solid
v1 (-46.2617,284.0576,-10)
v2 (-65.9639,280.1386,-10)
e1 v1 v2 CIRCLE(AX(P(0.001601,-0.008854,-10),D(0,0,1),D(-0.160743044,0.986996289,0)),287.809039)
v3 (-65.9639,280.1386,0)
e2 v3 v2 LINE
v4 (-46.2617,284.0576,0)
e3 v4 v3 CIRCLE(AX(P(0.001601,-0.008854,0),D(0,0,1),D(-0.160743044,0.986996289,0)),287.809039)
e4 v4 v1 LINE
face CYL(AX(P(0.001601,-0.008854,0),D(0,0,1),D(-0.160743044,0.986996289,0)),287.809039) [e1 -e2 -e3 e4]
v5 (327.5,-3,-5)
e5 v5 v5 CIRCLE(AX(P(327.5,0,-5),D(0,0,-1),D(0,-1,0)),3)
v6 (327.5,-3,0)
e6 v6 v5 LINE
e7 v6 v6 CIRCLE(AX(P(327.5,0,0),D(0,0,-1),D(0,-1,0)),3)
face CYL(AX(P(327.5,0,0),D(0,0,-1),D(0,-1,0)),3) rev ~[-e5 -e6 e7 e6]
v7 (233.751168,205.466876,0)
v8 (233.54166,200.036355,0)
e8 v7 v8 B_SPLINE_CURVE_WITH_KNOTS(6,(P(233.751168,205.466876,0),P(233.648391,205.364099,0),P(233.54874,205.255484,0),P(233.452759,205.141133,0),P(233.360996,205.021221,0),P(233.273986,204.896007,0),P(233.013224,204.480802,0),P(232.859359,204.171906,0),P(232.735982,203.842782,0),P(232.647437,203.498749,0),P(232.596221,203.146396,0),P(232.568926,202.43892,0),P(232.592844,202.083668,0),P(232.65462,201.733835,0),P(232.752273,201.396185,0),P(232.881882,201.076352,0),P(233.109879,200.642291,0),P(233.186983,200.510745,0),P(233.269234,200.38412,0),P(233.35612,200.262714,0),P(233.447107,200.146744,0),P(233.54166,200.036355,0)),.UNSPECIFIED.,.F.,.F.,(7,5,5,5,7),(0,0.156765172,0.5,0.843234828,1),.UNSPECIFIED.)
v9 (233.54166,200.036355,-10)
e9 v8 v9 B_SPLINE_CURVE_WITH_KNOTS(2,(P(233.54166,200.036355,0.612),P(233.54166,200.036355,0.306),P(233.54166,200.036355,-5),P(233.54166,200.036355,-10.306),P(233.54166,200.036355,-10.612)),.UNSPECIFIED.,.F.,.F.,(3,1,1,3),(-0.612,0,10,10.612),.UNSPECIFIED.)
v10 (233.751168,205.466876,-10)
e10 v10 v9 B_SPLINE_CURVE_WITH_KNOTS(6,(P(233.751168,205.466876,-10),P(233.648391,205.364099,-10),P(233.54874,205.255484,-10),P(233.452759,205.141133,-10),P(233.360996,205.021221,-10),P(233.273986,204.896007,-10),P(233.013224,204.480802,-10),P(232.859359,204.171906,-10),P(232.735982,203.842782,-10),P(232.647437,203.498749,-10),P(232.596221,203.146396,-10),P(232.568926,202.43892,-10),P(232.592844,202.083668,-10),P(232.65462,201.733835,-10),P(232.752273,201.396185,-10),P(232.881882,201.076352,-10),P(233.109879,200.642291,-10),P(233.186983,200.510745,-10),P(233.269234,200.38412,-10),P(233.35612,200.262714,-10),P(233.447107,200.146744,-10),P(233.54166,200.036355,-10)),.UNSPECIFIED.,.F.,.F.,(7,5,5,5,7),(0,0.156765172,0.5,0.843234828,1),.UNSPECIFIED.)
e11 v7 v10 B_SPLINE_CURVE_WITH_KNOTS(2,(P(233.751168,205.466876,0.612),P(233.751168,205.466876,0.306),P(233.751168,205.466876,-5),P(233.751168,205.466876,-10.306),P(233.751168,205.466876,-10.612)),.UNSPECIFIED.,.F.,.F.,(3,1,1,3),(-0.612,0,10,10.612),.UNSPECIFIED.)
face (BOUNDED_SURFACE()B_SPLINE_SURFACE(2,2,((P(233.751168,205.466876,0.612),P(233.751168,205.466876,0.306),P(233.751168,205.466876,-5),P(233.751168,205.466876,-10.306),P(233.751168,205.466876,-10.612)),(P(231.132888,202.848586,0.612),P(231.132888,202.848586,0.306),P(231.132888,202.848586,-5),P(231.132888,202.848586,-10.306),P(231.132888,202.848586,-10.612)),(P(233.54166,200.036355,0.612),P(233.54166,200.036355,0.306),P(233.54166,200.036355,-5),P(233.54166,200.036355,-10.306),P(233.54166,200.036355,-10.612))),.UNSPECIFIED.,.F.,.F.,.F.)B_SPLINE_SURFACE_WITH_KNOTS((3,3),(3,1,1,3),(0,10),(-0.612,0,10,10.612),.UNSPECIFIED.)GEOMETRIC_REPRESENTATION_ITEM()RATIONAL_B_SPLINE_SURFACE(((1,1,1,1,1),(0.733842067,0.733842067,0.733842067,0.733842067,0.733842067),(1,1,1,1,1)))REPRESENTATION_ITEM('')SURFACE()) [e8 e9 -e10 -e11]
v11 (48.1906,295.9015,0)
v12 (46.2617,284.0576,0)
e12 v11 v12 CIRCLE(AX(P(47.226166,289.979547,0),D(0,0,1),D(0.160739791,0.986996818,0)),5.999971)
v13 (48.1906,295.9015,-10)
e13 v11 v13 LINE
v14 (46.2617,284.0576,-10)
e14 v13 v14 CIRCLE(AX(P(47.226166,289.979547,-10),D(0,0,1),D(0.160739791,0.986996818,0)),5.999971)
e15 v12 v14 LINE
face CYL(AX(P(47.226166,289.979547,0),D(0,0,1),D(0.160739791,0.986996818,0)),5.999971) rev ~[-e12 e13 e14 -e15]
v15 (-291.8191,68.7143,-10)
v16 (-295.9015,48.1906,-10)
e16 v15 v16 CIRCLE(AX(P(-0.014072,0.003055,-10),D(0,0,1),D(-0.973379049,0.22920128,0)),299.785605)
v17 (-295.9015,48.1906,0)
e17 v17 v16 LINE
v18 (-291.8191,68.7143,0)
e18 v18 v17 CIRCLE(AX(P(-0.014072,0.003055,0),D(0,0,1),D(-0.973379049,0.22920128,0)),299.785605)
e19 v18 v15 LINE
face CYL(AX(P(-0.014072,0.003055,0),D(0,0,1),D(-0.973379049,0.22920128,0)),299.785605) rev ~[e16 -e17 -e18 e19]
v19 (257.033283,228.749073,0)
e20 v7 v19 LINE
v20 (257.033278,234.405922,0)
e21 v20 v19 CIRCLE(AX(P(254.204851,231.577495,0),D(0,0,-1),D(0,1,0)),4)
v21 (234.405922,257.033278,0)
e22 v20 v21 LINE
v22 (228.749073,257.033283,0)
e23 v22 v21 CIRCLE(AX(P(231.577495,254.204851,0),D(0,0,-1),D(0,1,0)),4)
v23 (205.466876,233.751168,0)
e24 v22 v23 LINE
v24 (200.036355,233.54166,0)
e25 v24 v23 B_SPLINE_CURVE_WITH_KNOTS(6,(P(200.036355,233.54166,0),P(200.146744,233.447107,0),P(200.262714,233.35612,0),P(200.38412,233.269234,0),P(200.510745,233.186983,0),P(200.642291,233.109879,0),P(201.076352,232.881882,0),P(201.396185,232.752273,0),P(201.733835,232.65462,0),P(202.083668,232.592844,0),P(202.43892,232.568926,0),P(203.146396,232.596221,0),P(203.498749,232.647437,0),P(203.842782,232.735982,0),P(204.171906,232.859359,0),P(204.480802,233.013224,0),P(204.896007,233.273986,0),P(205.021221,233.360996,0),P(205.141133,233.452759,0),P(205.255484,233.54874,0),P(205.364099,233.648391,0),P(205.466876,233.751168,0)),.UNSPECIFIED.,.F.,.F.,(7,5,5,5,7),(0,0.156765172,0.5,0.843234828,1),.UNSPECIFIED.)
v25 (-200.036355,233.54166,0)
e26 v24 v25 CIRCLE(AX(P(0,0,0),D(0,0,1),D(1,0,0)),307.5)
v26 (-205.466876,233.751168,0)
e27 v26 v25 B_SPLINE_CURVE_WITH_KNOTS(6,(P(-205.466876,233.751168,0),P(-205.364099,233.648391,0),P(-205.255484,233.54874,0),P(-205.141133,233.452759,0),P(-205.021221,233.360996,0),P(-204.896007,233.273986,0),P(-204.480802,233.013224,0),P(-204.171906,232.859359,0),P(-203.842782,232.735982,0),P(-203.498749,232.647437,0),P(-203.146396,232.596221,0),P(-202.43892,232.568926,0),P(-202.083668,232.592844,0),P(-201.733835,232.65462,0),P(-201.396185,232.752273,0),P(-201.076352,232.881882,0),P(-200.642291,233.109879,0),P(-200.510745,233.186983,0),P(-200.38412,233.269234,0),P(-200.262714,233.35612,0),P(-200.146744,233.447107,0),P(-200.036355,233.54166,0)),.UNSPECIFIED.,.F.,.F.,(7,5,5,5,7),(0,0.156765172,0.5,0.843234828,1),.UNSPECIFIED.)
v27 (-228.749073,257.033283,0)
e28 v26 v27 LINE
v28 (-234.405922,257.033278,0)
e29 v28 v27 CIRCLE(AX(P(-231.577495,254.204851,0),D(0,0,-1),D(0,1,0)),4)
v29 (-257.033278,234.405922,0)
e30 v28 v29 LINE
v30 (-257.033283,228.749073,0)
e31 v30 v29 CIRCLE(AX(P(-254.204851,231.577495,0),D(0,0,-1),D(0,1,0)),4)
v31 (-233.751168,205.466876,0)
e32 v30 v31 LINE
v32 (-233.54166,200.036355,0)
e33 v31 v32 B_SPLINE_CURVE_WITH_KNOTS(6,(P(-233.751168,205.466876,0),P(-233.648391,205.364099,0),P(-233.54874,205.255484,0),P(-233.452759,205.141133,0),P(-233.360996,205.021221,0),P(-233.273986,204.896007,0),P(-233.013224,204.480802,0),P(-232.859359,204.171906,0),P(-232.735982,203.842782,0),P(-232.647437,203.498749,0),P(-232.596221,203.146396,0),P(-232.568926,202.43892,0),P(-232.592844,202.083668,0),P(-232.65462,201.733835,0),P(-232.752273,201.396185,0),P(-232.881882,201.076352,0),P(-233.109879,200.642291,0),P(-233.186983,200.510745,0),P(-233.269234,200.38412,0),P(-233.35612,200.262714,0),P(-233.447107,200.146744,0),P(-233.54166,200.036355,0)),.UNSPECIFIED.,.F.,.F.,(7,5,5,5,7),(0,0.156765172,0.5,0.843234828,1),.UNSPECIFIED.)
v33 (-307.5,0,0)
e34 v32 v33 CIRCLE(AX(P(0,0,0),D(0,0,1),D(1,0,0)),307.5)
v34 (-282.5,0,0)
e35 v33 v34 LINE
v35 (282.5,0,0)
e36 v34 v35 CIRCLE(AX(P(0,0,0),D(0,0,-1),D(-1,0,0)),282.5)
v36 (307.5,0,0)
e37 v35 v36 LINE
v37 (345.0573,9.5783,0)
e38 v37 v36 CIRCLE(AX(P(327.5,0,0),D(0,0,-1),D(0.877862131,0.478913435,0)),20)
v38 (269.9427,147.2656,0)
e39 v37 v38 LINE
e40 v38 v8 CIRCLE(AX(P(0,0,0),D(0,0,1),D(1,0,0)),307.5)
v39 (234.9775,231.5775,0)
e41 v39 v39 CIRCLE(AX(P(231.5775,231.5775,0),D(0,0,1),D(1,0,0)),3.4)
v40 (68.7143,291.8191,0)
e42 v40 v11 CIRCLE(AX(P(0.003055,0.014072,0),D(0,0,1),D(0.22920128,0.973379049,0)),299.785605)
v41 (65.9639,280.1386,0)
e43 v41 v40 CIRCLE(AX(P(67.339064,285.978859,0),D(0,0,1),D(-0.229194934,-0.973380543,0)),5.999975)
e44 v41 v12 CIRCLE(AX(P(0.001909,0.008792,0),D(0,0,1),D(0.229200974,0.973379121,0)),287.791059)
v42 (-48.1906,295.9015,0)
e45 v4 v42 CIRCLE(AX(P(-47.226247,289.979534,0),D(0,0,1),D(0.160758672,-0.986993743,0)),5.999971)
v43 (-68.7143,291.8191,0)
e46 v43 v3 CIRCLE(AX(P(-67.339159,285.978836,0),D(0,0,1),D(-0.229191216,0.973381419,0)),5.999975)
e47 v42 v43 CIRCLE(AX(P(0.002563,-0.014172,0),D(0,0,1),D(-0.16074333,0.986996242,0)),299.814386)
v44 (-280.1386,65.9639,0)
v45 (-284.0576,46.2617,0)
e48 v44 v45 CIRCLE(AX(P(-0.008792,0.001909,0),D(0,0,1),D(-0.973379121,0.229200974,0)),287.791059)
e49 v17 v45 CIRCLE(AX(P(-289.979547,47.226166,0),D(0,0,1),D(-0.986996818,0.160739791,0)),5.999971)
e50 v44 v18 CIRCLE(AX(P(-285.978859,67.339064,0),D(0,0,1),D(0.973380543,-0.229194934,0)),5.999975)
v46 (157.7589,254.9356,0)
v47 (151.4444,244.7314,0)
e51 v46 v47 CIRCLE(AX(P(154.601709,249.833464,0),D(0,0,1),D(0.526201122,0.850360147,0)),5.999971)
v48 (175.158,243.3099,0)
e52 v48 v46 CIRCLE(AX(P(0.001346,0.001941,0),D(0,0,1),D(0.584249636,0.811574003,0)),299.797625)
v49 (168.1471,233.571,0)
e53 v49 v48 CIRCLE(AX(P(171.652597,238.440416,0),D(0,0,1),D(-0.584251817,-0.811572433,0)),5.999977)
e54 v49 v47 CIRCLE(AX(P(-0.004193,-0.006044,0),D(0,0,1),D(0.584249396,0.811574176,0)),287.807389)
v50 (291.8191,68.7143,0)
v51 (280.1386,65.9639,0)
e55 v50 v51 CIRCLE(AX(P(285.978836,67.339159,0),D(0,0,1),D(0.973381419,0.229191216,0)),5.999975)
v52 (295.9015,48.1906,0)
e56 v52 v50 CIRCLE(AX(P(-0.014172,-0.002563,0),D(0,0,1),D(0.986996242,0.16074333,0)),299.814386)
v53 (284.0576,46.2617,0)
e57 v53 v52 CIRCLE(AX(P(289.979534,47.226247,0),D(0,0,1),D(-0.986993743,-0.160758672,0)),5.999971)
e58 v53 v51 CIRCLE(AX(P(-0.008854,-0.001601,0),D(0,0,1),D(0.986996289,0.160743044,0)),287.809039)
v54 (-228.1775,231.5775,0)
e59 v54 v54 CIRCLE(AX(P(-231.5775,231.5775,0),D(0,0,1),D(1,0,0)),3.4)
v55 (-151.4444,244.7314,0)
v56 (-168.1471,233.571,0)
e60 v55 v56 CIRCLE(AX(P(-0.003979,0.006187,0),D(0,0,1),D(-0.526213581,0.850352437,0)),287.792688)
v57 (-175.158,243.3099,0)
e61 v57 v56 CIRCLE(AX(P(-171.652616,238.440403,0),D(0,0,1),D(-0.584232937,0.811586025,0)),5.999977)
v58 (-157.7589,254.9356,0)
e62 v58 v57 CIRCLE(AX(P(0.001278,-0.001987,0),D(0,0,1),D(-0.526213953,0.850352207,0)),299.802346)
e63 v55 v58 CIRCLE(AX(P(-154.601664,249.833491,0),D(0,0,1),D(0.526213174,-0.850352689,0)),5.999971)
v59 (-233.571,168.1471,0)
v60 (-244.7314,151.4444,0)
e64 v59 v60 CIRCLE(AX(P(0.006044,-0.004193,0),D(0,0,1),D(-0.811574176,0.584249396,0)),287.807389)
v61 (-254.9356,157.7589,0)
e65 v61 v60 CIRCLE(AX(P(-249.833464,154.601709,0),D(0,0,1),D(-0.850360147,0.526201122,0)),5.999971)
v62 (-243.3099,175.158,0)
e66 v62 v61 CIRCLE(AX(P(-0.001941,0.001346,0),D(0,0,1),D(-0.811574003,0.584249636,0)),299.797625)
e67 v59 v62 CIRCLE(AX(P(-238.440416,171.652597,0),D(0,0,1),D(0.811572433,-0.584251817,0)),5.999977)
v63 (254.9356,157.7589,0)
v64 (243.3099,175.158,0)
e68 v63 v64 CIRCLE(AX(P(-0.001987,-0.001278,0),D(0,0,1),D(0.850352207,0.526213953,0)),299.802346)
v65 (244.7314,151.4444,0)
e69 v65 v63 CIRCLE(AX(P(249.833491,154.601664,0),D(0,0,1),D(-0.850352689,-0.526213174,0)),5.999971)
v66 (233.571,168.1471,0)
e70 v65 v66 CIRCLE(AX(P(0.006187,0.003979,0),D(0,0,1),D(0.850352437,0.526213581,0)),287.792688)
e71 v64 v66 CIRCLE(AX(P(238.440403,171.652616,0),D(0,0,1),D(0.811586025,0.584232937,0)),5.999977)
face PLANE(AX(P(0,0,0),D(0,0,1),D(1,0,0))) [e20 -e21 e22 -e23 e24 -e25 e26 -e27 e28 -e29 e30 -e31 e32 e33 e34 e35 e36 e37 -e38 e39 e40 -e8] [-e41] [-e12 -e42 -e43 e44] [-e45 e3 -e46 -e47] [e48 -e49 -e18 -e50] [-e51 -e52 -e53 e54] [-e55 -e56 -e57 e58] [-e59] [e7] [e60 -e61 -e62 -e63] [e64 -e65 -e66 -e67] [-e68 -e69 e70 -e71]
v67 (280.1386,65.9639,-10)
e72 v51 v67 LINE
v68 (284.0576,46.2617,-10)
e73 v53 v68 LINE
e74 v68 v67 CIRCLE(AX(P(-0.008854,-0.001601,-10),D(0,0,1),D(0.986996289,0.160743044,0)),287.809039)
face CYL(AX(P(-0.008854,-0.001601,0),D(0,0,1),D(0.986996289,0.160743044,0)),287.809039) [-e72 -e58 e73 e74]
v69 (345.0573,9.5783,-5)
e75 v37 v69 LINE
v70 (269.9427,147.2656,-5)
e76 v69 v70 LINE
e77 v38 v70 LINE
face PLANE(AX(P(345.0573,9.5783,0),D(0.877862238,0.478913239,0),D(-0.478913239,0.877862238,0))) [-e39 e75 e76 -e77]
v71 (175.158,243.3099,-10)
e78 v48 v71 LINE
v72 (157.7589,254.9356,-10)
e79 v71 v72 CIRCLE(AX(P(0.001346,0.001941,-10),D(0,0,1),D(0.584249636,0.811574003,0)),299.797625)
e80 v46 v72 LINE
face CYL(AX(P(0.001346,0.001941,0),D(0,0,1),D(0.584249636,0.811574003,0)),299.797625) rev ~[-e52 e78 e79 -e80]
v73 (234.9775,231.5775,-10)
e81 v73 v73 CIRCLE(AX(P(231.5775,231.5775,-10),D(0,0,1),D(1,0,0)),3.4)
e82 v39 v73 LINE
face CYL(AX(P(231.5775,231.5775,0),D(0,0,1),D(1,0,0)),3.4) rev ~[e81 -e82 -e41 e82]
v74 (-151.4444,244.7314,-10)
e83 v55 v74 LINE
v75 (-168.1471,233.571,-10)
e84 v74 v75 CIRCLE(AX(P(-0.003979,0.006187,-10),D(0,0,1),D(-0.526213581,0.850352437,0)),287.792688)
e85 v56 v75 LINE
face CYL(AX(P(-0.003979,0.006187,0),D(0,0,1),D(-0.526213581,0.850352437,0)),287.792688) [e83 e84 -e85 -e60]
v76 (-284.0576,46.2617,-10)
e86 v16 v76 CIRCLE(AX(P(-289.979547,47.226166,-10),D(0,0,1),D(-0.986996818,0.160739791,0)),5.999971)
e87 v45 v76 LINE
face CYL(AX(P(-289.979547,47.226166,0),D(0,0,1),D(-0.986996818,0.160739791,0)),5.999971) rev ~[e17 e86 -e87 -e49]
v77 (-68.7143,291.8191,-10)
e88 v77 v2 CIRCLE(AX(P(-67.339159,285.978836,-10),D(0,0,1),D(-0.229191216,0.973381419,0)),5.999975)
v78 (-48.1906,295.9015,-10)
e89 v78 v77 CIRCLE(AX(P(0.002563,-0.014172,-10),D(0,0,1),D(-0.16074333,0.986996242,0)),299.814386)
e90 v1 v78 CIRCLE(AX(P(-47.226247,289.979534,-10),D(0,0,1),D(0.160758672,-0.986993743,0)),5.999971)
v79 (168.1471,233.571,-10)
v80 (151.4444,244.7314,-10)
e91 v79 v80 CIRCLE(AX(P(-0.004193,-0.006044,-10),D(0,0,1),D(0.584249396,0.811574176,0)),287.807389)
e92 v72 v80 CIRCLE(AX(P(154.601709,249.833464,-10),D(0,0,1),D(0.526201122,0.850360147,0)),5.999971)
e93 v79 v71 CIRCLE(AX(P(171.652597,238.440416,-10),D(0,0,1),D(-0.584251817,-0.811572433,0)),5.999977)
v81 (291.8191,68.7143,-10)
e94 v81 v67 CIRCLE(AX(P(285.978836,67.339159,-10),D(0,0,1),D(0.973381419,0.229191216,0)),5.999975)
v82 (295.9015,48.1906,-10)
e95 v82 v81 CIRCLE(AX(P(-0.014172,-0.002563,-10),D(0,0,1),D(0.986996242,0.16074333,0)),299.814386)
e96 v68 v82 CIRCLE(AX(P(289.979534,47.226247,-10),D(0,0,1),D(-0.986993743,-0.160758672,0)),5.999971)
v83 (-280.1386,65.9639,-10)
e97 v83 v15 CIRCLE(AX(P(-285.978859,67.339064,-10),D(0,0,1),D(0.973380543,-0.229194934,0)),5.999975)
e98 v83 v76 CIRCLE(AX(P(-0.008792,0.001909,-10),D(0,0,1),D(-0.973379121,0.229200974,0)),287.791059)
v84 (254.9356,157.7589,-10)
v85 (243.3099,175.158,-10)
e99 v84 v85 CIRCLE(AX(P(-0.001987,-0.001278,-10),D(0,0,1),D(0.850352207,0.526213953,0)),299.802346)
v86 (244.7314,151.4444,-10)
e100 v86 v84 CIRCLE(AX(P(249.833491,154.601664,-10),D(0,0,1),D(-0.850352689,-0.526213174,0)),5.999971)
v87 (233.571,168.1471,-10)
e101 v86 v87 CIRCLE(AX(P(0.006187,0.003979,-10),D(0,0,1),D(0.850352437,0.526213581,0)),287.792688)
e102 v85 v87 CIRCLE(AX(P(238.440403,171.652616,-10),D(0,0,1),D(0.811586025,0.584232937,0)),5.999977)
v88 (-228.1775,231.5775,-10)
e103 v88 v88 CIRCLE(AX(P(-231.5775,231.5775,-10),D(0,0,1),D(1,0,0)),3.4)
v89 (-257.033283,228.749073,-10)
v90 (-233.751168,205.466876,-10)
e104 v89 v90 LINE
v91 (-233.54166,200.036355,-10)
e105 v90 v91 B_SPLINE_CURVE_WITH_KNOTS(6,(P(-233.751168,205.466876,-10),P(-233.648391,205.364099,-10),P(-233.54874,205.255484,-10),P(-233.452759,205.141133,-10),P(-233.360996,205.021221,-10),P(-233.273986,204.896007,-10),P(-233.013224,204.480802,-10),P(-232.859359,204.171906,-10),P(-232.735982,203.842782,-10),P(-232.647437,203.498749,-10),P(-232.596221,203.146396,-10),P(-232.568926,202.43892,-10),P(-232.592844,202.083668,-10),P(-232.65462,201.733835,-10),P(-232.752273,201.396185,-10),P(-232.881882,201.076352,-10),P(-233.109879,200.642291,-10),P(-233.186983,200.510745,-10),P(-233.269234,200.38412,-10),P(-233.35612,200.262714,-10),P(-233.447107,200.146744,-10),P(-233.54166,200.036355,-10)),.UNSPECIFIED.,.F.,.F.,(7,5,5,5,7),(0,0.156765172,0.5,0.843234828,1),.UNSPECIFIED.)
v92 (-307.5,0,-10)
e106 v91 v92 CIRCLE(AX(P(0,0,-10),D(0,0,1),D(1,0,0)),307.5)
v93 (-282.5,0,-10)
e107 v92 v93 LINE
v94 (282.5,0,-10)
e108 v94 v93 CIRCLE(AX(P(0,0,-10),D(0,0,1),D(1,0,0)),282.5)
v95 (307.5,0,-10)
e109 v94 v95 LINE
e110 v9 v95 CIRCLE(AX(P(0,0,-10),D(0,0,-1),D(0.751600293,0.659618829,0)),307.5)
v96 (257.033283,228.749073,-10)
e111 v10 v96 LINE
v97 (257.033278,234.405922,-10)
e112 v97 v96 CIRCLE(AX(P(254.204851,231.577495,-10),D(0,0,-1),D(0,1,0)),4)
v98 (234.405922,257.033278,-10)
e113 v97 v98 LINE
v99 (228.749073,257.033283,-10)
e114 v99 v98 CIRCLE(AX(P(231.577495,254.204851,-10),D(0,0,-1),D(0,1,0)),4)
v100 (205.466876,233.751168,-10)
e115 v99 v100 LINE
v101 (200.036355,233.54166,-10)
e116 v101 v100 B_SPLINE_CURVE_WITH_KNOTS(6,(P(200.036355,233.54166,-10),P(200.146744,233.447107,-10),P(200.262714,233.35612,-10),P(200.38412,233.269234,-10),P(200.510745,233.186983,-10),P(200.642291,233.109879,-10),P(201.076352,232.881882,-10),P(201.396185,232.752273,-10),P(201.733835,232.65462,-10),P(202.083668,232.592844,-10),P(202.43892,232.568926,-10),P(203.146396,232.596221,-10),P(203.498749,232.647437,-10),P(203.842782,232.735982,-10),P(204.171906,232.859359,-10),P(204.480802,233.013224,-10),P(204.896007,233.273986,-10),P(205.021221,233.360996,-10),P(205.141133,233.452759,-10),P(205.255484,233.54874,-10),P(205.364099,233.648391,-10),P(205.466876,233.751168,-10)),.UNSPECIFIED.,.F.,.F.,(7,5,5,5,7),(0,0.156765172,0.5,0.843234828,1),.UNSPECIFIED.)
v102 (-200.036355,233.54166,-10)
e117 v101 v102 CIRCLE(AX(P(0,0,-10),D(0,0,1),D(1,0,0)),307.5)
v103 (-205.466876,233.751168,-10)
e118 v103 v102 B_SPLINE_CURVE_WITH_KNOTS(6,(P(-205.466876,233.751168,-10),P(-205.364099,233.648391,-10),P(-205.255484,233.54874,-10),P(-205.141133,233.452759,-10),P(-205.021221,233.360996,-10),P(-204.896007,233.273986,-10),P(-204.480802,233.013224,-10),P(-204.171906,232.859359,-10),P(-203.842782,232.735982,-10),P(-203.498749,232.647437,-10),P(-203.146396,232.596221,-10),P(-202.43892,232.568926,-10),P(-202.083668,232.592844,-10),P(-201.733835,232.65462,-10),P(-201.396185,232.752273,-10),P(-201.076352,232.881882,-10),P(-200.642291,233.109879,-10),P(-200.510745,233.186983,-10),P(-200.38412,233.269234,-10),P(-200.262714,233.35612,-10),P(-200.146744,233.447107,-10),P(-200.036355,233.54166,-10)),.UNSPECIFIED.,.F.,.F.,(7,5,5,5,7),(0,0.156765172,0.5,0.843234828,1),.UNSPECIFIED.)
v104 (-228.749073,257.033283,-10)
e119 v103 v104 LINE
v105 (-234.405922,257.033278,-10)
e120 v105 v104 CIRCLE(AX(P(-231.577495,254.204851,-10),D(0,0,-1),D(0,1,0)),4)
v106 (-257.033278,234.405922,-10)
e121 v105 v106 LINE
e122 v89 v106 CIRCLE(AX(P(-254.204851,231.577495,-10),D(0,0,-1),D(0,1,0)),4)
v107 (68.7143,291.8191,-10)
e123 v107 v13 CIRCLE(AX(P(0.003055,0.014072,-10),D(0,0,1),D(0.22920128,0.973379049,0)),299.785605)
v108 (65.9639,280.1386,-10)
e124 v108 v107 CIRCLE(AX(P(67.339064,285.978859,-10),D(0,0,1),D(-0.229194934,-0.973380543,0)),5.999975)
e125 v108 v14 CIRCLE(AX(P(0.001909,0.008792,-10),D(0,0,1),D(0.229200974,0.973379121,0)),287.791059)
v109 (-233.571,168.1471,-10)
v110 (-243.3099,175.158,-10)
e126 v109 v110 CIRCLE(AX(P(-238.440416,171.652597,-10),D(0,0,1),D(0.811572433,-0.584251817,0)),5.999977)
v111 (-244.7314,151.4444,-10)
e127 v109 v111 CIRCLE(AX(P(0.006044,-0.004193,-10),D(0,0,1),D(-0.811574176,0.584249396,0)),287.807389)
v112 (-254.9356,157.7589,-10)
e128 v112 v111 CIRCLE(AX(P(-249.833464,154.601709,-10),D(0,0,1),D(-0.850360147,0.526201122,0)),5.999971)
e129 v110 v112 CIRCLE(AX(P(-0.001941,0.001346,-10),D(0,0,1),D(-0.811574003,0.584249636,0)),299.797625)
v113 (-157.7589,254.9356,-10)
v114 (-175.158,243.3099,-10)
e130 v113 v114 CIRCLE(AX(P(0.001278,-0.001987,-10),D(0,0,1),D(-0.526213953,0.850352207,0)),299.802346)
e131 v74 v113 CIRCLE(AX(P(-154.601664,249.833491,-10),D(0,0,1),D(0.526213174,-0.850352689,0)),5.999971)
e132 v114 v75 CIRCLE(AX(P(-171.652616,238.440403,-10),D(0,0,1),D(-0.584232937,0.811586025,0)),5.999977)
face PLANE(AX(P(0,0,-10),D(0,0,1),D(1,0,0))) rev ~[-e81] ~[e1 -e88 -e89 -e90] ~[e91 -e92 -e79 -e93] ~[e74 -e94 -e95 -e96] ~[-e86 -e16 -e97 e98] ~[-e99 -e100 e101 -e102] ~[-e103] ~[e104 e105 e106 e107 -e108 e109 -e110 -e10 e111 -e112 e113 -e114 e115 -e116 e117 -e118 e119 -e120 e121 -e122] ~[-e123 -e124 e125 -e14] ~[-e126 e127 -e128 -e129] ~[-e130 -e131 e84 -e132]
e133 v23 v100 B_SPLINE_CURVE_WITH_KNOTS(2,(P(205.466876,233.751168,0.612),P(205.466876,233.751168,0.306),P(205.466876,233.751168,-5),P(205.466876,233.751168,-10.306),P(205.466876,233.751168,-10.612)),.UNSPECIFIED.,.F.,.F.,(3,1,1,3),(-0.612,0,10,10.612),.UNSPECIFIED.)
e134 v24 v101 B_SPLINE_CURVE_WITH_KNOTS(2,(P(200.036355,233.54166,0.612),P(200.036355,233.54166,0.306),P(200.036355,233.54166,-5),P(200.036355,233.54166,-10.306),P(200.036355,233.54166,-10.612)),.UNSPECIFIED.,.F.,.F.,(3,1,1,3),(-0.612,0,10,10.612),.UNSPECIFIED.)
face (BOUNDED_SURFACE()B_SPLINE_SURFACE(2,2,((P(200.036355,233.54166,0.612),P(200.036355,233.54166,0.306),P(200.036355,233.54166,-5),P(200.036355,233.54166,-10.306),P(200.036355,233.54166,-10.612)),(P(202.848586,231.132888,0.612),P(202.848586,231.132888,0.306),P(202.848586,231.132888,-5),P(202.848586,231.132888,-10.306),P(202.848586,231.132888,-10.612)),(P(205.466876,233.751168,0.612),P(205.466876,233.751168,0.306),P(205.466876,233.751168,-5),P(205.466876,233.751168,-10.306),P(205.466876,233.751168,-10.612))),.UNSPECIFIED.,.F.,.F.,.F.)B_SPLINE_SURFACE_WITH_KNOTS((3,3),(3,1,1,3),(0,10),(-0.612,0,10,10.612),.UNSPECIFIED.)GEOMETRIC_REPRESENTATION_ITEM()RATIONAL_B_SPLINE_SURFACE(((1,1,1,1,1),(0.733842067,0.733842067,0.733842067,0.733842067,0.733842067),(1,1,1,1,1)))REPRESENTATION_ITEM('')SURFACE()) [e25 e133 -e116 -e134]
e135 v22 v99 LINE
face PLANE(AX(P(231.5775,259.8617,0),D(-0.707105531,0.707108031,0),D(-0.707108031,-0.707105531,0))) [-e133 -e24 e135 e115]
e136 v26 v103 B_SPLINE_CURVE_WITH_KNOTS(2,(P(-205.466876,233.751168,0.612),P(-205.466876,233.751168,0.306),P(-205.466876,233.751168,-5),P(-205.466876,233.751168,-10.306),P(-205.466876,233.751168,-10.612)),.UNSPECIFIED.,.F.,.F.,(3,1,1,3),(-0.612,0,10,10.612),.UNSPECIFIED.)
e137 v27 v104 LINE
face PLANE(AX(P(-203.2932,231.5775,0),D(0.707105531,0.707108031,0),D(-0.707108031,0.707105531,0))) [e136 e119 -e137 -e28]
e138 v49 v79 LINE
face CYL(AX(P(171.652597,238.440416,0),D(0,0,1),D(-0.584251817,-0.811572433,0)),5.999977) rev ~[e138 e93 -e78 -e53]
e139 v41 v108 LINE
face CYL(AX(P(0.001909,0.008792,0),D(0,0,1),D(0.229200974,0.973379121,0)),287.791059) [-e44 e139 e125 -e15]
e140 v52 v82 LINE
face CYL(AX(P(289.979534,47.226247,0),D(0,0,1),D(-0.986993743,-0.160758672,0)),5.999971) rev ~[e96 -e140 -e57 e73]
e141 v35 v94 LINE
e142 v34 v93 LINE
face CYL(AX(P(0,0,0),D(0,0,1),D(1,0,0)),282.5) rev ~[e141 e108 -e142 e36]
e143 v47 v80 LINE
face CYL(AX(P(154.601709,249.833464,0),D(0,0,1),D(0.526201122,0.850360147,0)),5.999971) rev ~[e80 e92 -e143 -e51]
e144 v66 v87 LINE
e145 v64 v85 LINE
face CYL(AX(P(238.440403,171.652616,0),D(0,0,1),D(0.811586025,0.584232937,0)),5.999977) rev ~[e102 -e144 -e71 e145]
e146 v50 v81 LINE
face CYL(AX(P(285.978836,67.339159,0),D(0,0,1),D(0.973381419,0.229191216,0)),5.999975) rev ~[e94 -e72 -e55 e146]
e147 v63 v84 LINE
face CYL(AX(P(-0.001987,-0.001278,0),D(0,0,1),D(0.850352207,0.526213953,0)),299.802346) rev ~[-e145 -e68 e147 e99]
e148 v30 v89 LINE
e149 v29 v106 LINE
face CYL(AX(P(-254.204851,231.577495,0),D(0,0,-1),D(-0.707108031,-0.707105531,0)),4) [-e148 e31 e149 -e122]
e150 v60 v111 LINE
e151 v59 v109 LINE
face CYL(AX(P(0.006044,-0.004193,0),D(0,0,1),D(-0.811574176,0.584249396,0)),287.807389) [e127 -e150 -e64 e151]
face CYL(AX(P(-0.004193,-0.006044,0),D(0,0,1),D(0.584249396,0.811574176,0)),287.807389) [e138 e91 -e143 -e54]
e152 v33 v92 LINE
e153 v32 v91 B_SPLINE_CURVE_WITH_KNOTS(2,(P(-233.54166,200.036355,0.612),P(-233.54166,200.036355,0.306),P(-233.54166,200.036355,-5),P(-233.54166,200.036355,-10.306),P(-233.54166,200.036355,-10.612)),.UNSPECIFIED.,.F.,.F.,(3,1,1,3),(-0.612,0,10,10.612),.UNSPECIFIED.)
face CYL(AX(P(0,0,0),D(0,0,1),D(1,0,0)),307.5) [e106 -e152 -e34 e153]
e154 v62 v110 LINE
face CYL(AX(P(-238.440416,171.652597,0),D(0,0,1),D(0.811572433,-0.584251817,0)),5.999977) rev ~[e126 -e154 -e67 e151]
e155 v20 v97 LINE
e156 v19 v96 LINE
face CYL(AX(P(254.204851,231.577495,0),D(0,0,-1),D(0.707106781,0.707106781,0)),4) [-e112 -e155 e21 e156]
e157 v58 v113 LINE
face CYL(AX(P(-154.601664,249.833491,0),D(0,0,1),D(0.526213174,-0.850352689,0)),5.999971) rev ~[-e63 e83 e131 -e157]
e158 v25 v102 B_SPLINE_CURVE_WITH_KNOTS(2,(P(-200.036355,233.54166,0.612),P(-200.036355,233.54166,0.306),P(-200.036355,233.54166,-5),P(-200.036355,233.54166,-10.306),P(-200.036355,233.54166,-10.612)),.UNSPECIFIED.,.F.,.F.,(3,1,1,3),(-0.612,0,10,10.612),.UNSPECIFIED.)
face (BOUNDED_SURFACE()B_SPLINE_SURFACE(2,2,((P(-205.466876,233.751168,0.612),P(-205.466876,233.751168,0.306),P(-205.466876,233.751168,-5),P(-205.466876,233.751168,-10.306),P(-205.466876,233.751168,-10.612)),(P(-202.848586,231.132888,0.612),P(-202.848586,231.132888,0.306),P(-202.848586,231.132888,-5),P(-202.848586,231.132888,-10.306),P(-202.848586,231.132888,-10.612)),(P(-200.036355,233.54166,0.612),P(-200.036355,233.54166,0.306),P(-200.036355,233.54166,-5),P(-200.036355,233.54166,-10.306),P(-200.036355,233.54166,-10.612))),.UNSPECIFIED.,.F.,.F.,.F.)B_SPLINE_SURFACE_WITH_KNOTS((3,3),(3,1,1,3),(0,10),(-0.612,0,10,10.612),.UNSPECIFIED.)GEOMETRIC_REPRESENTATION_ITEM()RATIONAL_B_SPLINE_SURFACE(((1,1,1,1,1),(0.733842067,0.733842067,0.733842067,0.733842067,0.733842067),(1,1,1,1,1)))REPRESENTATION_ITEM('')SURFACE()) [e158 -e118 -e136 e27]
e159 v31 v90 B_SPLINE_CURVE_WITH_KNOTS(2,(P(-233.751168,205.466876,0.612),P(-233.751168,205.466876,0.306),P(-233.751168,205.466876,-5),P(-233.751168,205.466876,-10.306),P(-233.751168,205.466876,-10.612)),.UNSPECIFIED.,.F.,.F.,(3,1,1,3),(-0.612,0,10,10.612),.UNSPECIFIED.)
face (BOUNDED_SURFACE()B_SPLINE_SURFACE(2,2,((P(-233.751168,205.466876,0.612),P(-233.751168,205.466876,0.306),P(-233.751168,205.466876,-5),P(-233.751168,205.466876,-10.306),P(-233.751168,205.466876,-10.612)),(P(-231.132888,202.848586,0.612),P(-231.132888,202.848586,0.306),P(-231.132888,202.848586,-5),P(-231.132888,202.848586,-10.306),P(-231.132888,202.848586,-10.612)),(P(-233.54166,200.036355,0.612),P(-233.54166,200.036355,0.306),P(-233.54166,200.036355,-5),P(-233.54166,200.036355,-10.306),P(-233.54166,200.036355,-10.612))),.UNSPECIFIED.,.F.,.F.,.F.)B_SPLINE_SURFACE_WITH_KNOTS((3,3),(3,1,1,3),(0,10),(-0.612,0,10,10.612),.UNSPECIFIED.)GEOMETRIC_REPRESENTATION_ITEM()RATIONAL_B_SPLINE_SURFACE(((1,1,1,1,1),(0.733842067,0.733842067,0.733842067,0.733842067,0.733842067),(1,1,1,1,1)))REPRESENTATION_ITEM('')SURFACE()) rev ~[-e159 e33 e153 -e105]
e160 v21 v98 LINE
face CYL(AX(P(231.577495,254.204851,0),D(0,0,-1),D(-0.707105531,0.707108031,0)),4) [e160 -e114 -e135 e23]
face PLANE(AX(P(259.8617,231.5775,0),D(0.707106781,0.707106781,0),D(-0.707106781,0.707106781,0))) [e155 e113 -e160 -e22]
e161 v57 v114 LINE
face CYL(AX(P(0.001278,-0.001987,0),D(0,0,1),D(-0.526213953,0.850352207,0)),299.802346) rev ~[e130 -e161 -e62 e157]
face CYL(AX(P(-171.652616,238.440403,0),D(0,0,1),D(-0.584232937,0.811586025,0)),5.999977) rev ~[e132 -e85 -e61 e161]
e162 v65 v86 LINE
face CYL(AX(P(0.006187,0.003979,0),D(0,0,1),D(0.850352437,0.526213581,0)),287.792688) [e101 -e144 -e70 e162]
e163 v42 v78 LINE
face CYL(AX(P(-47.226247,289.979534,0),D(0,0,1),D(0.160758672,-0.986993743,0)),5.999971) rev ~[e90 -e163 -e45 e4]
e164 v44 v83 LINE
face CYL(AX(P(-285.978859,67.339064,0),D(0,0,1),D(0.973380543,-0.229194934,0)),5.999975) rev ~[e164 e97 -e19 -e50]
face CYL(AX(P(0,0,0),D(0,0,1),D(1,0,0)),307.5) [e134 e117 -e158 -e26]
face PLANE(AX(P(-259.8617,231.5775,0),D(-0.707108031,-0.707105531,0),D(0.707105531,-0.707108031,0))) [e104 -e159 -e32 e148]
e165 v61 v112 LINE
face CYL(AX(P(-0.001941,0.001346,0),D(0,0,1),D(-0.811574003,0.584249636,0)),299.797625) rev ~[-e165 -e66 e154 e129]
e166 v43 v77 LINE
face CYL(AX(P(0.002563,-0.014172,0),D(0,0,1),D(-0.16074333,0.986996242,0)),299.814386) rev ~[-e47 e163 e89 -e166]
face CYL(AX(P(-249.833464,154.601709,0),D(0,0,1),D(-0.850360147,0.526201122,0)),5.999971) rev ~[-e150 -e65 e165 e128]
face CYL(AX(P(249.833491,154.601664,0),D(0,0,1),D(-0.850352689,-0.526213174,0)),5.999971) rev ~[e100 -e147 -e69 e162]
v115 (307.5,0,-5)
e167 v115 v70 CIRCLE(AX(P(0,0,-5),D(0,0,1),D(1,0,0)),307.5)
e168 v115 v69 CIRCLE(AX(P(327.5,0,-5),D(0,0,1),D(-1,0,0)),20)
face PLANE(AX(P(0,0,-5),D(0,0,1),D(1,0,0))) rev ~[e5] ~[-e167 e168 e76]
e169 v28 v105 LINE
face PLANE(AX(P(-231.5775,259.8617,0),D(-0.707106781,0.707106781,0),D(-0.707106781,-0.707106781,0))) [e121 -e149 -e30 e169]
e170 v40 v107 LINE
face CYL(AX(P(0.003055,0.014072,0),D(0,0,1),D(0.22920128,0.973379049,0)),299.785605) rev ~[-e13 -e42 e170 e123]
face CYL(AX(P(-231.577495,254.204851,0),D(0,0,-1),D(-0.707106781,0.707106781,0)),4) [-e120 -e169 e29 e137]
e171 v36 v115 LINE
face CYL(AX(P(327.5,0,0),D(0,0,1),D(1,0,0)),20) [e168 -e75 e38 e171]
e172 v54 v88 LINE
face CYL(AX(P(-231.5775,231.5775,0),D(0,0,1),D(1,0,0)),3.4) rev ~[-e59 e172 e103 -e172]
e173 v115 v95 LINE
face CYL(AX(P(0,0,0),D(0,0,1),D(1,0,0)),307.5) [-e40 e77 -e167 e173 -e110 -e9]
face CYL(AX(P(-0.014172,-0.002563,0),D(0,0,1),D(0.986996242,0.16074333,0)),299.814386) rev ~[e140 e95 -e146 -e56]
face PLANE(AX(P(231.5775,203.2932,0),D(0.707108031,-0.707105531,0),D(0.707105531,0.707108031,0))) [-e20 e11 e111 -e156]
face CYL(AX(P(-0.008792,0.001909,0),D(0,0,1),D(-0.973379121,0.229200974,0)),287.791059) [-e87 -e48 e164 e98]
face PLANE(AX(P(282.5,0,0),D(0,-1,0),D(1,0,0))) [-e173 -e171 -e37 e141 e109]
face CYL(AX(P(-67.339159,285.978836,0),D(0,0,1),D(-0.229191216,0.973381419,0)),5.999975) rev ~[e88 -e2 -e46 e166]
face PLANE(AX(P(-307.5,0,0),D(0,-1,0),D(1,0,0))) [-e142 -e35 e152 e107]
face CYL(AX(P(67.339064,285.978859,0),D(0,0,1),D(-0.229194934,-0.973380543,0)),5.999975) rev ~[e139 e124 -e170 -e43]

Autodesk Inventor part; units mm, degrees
ref_plane "YZ Plane" through (0, 0, 0) normal (1, 0, 0) x (0, 1, 0)
ref_plane "XZ Plane" through (0, 0, 0) normal (0, 1, 0) x (-1, 0, 0)
ref_plane "XY Plane" through (0, 0, 0) normal (0, 0, 1) x (1, 0, 0)
sketch "Sketch7" plane through (0, 0, 0) normal (0, 0, 1) x (1, 0, 0)
  circle A0 centre (-231.5775, 231.5775) radius 3.4
  line L0 (-231.5775, 203.2932) -> (-203.2932, 231.5775)
  line L1 (-203.2932, 231.5775) -> (-231.5775, 259.8617)
  line L2 (-231.5775, 259.8617) -> (-259.8617, 231.5775)
  line L3 (-259.8617, 231.5775) -> (-231.5775, 203.2932)
  line L4 (-231.5775, 203.2932) -> (-231.5775, 259.8617) construction
  line L5 (-203.2932, 231.5775) -> (-259.8617, 231.5775) construction
  line L6 (-231.5775, 203.2932) -> (-191.5775, 203.2932) construction
  arc A1 (289.9795, 47.2262) -> (285.9788, 67.3391) centre (0, 0) ccw construction
  arc A2 (295.9015, 48.1906) -> (291.8191, 68.7143) centre (0, 0) ccw
  arc A3 (284.0576, 46.2617) -> (280.1386, 65.9639) centre (0, 0) ccw
  arc A4 (284.0576, 46.2617) -> (295.9015, 48.1906) centre (289.9795, 47.2262) ccw
  arc A5 (291.8191, 68.7143) -> (280.1386, 65.9639) centre (285.9788, 67.3391) ccw
  line L7 (0, 0) -> (289.9795, 47.2262) construction
  line L8 (0, 0) -> (293.8, 0) construction
  line L9 (0, 0) -> (285.9788, 67.3391) construction
  circle A6 centre (0, 0) radius 307.5
  circle A7 centre (0, 0) radius 282.5
  line L10 (-203.2932, 231.5775) -> (-185.1143, 213.3986)
  line L11 (-231.5775, 203.2932) -> (-213.3986, 185.1143)
  line L12 (-307.5, 0) -> (0, 0)
  line L13 (0, 0) -> (307.5, 0)
  line L14 (-231.5775, -203.2932) -> (-259.8617, -231.5775)
  line L15 (-259.8617, -231.5775) -> (-231.5775, -259.8617)
  circle A8 centre (-231.5775, -231.5775) radius 3.4
  line L16 (-231.5775, -259.8617) -> (-203.2932, -231.5775)
  line L17 (-203.2932, -231.5775) -> (-231.5775, -203.2932)
  line L18 (-203.2932, -231.5775) -> (-185.1143, -213.3986)
  line L19 (-231.5775, -203.2932) -> (-213.3986, -185.1143)
  line L20 (203.2932, -231.5775) -> (231.5775, -259.8617)
  line L21 (231.5775, -259.8617) -> (259.8617, -231.5775)
  circle A9 centre (231.5775, -231.5775) radius 3.4
  line L22 (259.8617, -231.5775) -> (231.5775, -203.2932)
  line L23 (231.5775, -203.2932) -> (203.2932, -231.5775)
  line L24 (231.5775, -203.2932) -> (213.3986, -185.1143)
  line L25 (203.2932, -231.5775) -> (185.1143, -213.3986)
  line L26 (231.5775, 203.2932) -> (259.8617, 231.5775)
  line L27 (259.8617, 231.5775) -> (231.5775, 259.8617)
  circle A10 centre (231.5775, 231.5775) radius 3.4
  line L28 (231.5775, 259.8617) -> (203.2932, 231.5775)
  line L29 (203.2932, 231.5775) -> (231.5775, 203.2932)
  line L30 (203.2932, 231.5775) -> (185.1143, 213.3986)
  line L31 (231.5775, 203.2932) -> (213.3986, 185.1143)
  arc A11 (254.9356, 157.7589) -> (243.3099, 175.158) centre (0, 0) ccw
  arc A12 (243.3099, 175.158) -> (233.571, 168.1471) centre (238.4404, 171.6526) ccw
  arc A13 (244.7314, 151.4444) -> (233.571, 168.1471) centre (0, 0) ccw
  arc A14 (244.7314, 151.4444) -> (254.9356, 157.7589) centre (249.8335, 154.6017) ccw
  arc A15 (175.158, 243.3099) -> (157.7589, 254.9356) centre (0, 0) ccw
  arc A16 (157.7589, 254.9356) -> (151.4444, 244.7314) centre (154.6017, 249.8335) ccw
  arc A17 (168.1471, 233.571) -> (151.4444, 244.7314) centre (0, 0) ccw
  arc A18 (168.1471, 233.571) -> (175.158, 243.3099) centre (171.6526, 238.4404) ccw
  arc A19 (68.7143, 291.8191) -> (48.1906, 295.9015) centre (0, 0) ccw
  arc A20 (48.1906, 295.9015) -> (46.2617, 284.0576) centre (47.2262, 289.9795) ccw
  arc A21 (65.9639, 280.1386) -> (46.2617, 284.0576) centre (0, 0) ccw
  arc A22 (65.9639, 280.1386) -> (68.7143, 291.8191) centre (67.3391, 285.9788) ccw
  arc A23 (-48.1906, 295.9015) -> (-68.7143, 291.8191) centre (0, 0) ccw
  arc A24 (-68.7143, 291.8191) -> (-65.9639, 280.1386) centre (-67.3391, 285.9788) ccw
  arc A25 (-46.2617, 284.0576) -> (-65.9639, 280.1386) centre (0, 0) ccw
  arc A26 (-46.2617, 284.0576) -> (-48.1906, 295.9015) centre (-47.2262, 289.9795) ccw
  arc A27 (-157.7589, 254.9356) -> (-175.158, 243.3099) centre (0, 0) ccw
  arc A28 (-175.158, 243.3099) -> (-168.1471, 233.571) centre (-171.6526, 238.4404) ccw
  arc A29 (-151.4444, 244.7314) -> (-168.1471, 233.571) centre (0, 0) ccw
  arc A30 (-151.4444, 244.7314) -> (-157.7589, 254.9356) centre (-154.6017, 249.8335) ccw
  arc A31 (-243.3099, 175.158) -> (-254.9356, 157.7589) centre (0, 0) ccw
  arc A32 (-254.9356, 157.7589) -> (-244.7314, 151.4444) centre (-249.8335, 154.6017) ccw
  arc A33 (-233.571, 168.1471) -> (-244.7314, 151.4444) centre (0, 0) ccw
  arc A34 (-233.571, 168.1471) -> (-243.3099, 175.158) centre (-238.4404, 171.6526) ccw
  arc A35 (-291.8191, 68.7143) -> (-295.9015, 48.1906) centre (0, 0) ccw
  arc A36 (-295.9015, 48.1906) -> (-284.0576, 46.2617) centre (-289.9795, 47.2262) ccw
  arc A37 (-280.1386, 65.9639) -> (-284.0576, 46.2617) centre (0, 0) ccw
  arc A38 (-280.1386, 65.9639) -> (-291.8191, 68.7143) centre (-285.9788, 67.3391) ccw
  arc A39 (-295.9015, -48.1906) -> (-291.8191, -68.7143) centre (0, 0) ccw
  arc A40 (-291.8191, -68.7143) -> (-280.1386, -65.9639) centre (-285.9788, -67.3391) ccw
  arc A41 (-284.0576, -46.2617) -> (-280.1386, -65.9639) centre (0, 0) ccw
  arc A42 (-284.0576, -46.2617) -> (-295.9015, -48.1906) centre (-289.9795, -47.2262) ccw
  arc A43 (-254.9356, -157.7589) -> (-243.3099, -175.158) centre (0, 0) ccw
  arc A44 (-243.3099, -175.158) -> (-233.571, -168.1471) centre (-238.4404, -171.6526) ccw
  arc A45 (-244.7314, -151.4444) -> (-233.571, -168.1471) centre (0, 0) ccw
  arc A46 (-244.7314, -151.4444) -> (-254.9356, -157.7589) centre (-249.8335, -154.6017) ccw
  arc A47 (-175.158, -243.3099) -> (-157.7589, -254.9356) centre (0, 0) ccw
  arc A48 (-157.7589, -254.9356) -> (-151.4444, -244.7314) centre (-154.6017, -249.8335) ccw
  arc A49 (-168.1471, -233.571) -> (-151.4444, -244.7314) centre (0, 0) ccw
  arc A50 (-168.1471, -233.571) -> (-175.158, -243.3099) centre (-171.6526, -238.4404) ccw
  arc A51 (-68.7143, -291.8191) -> (-48.1906, -295.9015) centre (0, 0) ccw
  arc A52 (-48.1906, -295.9015) -> (-46.2617, -284.0576) centre (-47.2262, -289.9795) ccw
  arc A53 (-65.9639, -280.1386) -> (-46.2617, -284.0576) centre (0, 0) ccw
  arc A54 (-65.9639, -280.1386) -> (-68.7143, -291.8191) centre (-67.3391, -285.9788) ccw
  arc A55 (48.1906, -295.9015) -> (68.7143, -291.8191) centre (0, 0) ccw
  arc A56 (68.7143, -291.8191) -> (65.9639, -280.1386) centre (67.3391, -285.9788) ccw
  arc A57 (46.2617, -284.0576) -> (65.9639, -280.1386) centre (0, 0) ccw
  arc A58 (46.2617, -284.0576) -> (48.1906, -295.9015) centre (47.2262, -289.9795) ccw
  arc A59 (157.7589, -254.9356) -> (175.158, -243.3099) centre (0, 0) ccw
  arc A60 (175.158, -243.3099) -> (168.1471, -233.571) centre (171.6526, -238.4404) ccw
  arc A61 (151.4444, -244.7314) -> (168.1471, -233.571) centre (0, 0) ccw
  arc A62 (151.4444, -244.7314) -> (157.7589, -254.9356) centre (154.6017, -249.8335) ccw
  arc A63 (243.3099, -175.158) -> (254.9356, -157.7589) centre (0, 0) ccw
  arc A64 (254.9356, -157.7589) -> (244.7314, -151.4444) centre (249.8335, -154.6017) ccw
  arc A65 (233.571, -168.1471) -> (244.7314, -151.4444) centre (0, 0) ccw
  arc A66 (233.571, -168.1471) -> (243.3099, -175.158) centre (238.4404, -171.6526) ccw
  arc A67 (291.8191, -68.7143) -> (295.9015, -48.1906) centre (0, 0) ccw
  arc A68 (295.9015, -48.1906) -> (284.0576, -46.2617) centre (289.9795, -47.2262) ccw
  arc A69 (280.1386, -65.9639) -> (284.0576, -46.2617) centre (0, 0) ccw
  arc A70 (280.1386, -65.9639) -> (291.8191, -68.7143) centre (285.9788, -67.3391) ccw
  circle A71 centre (327.5, 0) radius 20
  line L32 (345.0573, 9.5783) -> (269.9427, 147.2656)
  point P0 (-202.8328, 231.1171)
  point P1 (-231.1171, 202.8328)
  point P2 (-282.5, 0)
  point P3 (282.5, 0)
  point P4 (231.1171, 202.8328)
  point P5 (202.8328, 231.1171)
  point P6 (307.5, 0)
  dimension "d173" = 40
  dimension "d131" = 6.8
  dimension "d132" = 231.5775
  dimension "d133" = 231.5775
  dimension "d135" = 45
  dimension "d137" = 40
  dimension "d138" = 40
  dimension "d144" = 293.8
  dimension "d145" = 9.25
  dimension "d146" = 4
  dimension "d147" = 12
  dimension "d148" = 615
  dimension "d149" = 565
  dimension "d152" = 360
  dimension "d156" = 360
  dimension "d174" = 0
  dimension "d175" = 327.5
extrude "Extrusion11" add sketch "Sketch7" against normal blind 10 contours L3 L2 L1 L0 | L0 A6 L11 | L0 L10 A6 | A6 L10 A7 L11 | L11 A7 L12 A6 | A6 L30 A7 L10 | L30 L29 A6 | A6 L31 A7 L30 | L29 L31 A6 | L29 L28 L27 L26 | A6 L13 A7 L31
fillet "Fillet4" radius 4 8 edges at (-231.1171, 202.8328, -5) (-259.8617, 231.5775, -5) (-202.8328, 231.1171, -5) (-231.5775, 259.8617, -5) (231.5775, 259.8617, -5) (259.8617, 231.5775, -5) (202.8328, 231.1171, -5) (231.1171, 202.8328, -5)
extrude "Extrusion13" add sketch "Sketch7" against normal blind 5 contours L32 A71 A6 | A71
hole "Hole5" at (0, 0, 0) at (327.5, 0, 0) direction (0, 0, -1) diameter 6 end through all
equation "\"bar_screw_hole_diam\" = 6.8"
equation "\"foot_length\" = 14"
equation "\"rim_diam\" = 605"
equation "\"tube_inner_diam\" = 541"
equation "\"tube_outer_diam\" = 561"
equation "\"ring_delta\" = 2"
equation "\"bar_delta\" = 5"
equation "\"bar_circle_diam\" = 655"
equation "\"ring_inner_diam\" = 565"
equation "\"ring_outer_diam\" = 615"
equation "\"slot_angle\" = 9.25deg"
equation "\"slot_diam\" = 12"
equation "\"slots_circle_diam\" = 587.6"
equation "\"foot_screw_diam\" = 6"
equation "\"bar_fillet\" = 4"
properties part number "half_ring_1" material "Aluminum 6061"
